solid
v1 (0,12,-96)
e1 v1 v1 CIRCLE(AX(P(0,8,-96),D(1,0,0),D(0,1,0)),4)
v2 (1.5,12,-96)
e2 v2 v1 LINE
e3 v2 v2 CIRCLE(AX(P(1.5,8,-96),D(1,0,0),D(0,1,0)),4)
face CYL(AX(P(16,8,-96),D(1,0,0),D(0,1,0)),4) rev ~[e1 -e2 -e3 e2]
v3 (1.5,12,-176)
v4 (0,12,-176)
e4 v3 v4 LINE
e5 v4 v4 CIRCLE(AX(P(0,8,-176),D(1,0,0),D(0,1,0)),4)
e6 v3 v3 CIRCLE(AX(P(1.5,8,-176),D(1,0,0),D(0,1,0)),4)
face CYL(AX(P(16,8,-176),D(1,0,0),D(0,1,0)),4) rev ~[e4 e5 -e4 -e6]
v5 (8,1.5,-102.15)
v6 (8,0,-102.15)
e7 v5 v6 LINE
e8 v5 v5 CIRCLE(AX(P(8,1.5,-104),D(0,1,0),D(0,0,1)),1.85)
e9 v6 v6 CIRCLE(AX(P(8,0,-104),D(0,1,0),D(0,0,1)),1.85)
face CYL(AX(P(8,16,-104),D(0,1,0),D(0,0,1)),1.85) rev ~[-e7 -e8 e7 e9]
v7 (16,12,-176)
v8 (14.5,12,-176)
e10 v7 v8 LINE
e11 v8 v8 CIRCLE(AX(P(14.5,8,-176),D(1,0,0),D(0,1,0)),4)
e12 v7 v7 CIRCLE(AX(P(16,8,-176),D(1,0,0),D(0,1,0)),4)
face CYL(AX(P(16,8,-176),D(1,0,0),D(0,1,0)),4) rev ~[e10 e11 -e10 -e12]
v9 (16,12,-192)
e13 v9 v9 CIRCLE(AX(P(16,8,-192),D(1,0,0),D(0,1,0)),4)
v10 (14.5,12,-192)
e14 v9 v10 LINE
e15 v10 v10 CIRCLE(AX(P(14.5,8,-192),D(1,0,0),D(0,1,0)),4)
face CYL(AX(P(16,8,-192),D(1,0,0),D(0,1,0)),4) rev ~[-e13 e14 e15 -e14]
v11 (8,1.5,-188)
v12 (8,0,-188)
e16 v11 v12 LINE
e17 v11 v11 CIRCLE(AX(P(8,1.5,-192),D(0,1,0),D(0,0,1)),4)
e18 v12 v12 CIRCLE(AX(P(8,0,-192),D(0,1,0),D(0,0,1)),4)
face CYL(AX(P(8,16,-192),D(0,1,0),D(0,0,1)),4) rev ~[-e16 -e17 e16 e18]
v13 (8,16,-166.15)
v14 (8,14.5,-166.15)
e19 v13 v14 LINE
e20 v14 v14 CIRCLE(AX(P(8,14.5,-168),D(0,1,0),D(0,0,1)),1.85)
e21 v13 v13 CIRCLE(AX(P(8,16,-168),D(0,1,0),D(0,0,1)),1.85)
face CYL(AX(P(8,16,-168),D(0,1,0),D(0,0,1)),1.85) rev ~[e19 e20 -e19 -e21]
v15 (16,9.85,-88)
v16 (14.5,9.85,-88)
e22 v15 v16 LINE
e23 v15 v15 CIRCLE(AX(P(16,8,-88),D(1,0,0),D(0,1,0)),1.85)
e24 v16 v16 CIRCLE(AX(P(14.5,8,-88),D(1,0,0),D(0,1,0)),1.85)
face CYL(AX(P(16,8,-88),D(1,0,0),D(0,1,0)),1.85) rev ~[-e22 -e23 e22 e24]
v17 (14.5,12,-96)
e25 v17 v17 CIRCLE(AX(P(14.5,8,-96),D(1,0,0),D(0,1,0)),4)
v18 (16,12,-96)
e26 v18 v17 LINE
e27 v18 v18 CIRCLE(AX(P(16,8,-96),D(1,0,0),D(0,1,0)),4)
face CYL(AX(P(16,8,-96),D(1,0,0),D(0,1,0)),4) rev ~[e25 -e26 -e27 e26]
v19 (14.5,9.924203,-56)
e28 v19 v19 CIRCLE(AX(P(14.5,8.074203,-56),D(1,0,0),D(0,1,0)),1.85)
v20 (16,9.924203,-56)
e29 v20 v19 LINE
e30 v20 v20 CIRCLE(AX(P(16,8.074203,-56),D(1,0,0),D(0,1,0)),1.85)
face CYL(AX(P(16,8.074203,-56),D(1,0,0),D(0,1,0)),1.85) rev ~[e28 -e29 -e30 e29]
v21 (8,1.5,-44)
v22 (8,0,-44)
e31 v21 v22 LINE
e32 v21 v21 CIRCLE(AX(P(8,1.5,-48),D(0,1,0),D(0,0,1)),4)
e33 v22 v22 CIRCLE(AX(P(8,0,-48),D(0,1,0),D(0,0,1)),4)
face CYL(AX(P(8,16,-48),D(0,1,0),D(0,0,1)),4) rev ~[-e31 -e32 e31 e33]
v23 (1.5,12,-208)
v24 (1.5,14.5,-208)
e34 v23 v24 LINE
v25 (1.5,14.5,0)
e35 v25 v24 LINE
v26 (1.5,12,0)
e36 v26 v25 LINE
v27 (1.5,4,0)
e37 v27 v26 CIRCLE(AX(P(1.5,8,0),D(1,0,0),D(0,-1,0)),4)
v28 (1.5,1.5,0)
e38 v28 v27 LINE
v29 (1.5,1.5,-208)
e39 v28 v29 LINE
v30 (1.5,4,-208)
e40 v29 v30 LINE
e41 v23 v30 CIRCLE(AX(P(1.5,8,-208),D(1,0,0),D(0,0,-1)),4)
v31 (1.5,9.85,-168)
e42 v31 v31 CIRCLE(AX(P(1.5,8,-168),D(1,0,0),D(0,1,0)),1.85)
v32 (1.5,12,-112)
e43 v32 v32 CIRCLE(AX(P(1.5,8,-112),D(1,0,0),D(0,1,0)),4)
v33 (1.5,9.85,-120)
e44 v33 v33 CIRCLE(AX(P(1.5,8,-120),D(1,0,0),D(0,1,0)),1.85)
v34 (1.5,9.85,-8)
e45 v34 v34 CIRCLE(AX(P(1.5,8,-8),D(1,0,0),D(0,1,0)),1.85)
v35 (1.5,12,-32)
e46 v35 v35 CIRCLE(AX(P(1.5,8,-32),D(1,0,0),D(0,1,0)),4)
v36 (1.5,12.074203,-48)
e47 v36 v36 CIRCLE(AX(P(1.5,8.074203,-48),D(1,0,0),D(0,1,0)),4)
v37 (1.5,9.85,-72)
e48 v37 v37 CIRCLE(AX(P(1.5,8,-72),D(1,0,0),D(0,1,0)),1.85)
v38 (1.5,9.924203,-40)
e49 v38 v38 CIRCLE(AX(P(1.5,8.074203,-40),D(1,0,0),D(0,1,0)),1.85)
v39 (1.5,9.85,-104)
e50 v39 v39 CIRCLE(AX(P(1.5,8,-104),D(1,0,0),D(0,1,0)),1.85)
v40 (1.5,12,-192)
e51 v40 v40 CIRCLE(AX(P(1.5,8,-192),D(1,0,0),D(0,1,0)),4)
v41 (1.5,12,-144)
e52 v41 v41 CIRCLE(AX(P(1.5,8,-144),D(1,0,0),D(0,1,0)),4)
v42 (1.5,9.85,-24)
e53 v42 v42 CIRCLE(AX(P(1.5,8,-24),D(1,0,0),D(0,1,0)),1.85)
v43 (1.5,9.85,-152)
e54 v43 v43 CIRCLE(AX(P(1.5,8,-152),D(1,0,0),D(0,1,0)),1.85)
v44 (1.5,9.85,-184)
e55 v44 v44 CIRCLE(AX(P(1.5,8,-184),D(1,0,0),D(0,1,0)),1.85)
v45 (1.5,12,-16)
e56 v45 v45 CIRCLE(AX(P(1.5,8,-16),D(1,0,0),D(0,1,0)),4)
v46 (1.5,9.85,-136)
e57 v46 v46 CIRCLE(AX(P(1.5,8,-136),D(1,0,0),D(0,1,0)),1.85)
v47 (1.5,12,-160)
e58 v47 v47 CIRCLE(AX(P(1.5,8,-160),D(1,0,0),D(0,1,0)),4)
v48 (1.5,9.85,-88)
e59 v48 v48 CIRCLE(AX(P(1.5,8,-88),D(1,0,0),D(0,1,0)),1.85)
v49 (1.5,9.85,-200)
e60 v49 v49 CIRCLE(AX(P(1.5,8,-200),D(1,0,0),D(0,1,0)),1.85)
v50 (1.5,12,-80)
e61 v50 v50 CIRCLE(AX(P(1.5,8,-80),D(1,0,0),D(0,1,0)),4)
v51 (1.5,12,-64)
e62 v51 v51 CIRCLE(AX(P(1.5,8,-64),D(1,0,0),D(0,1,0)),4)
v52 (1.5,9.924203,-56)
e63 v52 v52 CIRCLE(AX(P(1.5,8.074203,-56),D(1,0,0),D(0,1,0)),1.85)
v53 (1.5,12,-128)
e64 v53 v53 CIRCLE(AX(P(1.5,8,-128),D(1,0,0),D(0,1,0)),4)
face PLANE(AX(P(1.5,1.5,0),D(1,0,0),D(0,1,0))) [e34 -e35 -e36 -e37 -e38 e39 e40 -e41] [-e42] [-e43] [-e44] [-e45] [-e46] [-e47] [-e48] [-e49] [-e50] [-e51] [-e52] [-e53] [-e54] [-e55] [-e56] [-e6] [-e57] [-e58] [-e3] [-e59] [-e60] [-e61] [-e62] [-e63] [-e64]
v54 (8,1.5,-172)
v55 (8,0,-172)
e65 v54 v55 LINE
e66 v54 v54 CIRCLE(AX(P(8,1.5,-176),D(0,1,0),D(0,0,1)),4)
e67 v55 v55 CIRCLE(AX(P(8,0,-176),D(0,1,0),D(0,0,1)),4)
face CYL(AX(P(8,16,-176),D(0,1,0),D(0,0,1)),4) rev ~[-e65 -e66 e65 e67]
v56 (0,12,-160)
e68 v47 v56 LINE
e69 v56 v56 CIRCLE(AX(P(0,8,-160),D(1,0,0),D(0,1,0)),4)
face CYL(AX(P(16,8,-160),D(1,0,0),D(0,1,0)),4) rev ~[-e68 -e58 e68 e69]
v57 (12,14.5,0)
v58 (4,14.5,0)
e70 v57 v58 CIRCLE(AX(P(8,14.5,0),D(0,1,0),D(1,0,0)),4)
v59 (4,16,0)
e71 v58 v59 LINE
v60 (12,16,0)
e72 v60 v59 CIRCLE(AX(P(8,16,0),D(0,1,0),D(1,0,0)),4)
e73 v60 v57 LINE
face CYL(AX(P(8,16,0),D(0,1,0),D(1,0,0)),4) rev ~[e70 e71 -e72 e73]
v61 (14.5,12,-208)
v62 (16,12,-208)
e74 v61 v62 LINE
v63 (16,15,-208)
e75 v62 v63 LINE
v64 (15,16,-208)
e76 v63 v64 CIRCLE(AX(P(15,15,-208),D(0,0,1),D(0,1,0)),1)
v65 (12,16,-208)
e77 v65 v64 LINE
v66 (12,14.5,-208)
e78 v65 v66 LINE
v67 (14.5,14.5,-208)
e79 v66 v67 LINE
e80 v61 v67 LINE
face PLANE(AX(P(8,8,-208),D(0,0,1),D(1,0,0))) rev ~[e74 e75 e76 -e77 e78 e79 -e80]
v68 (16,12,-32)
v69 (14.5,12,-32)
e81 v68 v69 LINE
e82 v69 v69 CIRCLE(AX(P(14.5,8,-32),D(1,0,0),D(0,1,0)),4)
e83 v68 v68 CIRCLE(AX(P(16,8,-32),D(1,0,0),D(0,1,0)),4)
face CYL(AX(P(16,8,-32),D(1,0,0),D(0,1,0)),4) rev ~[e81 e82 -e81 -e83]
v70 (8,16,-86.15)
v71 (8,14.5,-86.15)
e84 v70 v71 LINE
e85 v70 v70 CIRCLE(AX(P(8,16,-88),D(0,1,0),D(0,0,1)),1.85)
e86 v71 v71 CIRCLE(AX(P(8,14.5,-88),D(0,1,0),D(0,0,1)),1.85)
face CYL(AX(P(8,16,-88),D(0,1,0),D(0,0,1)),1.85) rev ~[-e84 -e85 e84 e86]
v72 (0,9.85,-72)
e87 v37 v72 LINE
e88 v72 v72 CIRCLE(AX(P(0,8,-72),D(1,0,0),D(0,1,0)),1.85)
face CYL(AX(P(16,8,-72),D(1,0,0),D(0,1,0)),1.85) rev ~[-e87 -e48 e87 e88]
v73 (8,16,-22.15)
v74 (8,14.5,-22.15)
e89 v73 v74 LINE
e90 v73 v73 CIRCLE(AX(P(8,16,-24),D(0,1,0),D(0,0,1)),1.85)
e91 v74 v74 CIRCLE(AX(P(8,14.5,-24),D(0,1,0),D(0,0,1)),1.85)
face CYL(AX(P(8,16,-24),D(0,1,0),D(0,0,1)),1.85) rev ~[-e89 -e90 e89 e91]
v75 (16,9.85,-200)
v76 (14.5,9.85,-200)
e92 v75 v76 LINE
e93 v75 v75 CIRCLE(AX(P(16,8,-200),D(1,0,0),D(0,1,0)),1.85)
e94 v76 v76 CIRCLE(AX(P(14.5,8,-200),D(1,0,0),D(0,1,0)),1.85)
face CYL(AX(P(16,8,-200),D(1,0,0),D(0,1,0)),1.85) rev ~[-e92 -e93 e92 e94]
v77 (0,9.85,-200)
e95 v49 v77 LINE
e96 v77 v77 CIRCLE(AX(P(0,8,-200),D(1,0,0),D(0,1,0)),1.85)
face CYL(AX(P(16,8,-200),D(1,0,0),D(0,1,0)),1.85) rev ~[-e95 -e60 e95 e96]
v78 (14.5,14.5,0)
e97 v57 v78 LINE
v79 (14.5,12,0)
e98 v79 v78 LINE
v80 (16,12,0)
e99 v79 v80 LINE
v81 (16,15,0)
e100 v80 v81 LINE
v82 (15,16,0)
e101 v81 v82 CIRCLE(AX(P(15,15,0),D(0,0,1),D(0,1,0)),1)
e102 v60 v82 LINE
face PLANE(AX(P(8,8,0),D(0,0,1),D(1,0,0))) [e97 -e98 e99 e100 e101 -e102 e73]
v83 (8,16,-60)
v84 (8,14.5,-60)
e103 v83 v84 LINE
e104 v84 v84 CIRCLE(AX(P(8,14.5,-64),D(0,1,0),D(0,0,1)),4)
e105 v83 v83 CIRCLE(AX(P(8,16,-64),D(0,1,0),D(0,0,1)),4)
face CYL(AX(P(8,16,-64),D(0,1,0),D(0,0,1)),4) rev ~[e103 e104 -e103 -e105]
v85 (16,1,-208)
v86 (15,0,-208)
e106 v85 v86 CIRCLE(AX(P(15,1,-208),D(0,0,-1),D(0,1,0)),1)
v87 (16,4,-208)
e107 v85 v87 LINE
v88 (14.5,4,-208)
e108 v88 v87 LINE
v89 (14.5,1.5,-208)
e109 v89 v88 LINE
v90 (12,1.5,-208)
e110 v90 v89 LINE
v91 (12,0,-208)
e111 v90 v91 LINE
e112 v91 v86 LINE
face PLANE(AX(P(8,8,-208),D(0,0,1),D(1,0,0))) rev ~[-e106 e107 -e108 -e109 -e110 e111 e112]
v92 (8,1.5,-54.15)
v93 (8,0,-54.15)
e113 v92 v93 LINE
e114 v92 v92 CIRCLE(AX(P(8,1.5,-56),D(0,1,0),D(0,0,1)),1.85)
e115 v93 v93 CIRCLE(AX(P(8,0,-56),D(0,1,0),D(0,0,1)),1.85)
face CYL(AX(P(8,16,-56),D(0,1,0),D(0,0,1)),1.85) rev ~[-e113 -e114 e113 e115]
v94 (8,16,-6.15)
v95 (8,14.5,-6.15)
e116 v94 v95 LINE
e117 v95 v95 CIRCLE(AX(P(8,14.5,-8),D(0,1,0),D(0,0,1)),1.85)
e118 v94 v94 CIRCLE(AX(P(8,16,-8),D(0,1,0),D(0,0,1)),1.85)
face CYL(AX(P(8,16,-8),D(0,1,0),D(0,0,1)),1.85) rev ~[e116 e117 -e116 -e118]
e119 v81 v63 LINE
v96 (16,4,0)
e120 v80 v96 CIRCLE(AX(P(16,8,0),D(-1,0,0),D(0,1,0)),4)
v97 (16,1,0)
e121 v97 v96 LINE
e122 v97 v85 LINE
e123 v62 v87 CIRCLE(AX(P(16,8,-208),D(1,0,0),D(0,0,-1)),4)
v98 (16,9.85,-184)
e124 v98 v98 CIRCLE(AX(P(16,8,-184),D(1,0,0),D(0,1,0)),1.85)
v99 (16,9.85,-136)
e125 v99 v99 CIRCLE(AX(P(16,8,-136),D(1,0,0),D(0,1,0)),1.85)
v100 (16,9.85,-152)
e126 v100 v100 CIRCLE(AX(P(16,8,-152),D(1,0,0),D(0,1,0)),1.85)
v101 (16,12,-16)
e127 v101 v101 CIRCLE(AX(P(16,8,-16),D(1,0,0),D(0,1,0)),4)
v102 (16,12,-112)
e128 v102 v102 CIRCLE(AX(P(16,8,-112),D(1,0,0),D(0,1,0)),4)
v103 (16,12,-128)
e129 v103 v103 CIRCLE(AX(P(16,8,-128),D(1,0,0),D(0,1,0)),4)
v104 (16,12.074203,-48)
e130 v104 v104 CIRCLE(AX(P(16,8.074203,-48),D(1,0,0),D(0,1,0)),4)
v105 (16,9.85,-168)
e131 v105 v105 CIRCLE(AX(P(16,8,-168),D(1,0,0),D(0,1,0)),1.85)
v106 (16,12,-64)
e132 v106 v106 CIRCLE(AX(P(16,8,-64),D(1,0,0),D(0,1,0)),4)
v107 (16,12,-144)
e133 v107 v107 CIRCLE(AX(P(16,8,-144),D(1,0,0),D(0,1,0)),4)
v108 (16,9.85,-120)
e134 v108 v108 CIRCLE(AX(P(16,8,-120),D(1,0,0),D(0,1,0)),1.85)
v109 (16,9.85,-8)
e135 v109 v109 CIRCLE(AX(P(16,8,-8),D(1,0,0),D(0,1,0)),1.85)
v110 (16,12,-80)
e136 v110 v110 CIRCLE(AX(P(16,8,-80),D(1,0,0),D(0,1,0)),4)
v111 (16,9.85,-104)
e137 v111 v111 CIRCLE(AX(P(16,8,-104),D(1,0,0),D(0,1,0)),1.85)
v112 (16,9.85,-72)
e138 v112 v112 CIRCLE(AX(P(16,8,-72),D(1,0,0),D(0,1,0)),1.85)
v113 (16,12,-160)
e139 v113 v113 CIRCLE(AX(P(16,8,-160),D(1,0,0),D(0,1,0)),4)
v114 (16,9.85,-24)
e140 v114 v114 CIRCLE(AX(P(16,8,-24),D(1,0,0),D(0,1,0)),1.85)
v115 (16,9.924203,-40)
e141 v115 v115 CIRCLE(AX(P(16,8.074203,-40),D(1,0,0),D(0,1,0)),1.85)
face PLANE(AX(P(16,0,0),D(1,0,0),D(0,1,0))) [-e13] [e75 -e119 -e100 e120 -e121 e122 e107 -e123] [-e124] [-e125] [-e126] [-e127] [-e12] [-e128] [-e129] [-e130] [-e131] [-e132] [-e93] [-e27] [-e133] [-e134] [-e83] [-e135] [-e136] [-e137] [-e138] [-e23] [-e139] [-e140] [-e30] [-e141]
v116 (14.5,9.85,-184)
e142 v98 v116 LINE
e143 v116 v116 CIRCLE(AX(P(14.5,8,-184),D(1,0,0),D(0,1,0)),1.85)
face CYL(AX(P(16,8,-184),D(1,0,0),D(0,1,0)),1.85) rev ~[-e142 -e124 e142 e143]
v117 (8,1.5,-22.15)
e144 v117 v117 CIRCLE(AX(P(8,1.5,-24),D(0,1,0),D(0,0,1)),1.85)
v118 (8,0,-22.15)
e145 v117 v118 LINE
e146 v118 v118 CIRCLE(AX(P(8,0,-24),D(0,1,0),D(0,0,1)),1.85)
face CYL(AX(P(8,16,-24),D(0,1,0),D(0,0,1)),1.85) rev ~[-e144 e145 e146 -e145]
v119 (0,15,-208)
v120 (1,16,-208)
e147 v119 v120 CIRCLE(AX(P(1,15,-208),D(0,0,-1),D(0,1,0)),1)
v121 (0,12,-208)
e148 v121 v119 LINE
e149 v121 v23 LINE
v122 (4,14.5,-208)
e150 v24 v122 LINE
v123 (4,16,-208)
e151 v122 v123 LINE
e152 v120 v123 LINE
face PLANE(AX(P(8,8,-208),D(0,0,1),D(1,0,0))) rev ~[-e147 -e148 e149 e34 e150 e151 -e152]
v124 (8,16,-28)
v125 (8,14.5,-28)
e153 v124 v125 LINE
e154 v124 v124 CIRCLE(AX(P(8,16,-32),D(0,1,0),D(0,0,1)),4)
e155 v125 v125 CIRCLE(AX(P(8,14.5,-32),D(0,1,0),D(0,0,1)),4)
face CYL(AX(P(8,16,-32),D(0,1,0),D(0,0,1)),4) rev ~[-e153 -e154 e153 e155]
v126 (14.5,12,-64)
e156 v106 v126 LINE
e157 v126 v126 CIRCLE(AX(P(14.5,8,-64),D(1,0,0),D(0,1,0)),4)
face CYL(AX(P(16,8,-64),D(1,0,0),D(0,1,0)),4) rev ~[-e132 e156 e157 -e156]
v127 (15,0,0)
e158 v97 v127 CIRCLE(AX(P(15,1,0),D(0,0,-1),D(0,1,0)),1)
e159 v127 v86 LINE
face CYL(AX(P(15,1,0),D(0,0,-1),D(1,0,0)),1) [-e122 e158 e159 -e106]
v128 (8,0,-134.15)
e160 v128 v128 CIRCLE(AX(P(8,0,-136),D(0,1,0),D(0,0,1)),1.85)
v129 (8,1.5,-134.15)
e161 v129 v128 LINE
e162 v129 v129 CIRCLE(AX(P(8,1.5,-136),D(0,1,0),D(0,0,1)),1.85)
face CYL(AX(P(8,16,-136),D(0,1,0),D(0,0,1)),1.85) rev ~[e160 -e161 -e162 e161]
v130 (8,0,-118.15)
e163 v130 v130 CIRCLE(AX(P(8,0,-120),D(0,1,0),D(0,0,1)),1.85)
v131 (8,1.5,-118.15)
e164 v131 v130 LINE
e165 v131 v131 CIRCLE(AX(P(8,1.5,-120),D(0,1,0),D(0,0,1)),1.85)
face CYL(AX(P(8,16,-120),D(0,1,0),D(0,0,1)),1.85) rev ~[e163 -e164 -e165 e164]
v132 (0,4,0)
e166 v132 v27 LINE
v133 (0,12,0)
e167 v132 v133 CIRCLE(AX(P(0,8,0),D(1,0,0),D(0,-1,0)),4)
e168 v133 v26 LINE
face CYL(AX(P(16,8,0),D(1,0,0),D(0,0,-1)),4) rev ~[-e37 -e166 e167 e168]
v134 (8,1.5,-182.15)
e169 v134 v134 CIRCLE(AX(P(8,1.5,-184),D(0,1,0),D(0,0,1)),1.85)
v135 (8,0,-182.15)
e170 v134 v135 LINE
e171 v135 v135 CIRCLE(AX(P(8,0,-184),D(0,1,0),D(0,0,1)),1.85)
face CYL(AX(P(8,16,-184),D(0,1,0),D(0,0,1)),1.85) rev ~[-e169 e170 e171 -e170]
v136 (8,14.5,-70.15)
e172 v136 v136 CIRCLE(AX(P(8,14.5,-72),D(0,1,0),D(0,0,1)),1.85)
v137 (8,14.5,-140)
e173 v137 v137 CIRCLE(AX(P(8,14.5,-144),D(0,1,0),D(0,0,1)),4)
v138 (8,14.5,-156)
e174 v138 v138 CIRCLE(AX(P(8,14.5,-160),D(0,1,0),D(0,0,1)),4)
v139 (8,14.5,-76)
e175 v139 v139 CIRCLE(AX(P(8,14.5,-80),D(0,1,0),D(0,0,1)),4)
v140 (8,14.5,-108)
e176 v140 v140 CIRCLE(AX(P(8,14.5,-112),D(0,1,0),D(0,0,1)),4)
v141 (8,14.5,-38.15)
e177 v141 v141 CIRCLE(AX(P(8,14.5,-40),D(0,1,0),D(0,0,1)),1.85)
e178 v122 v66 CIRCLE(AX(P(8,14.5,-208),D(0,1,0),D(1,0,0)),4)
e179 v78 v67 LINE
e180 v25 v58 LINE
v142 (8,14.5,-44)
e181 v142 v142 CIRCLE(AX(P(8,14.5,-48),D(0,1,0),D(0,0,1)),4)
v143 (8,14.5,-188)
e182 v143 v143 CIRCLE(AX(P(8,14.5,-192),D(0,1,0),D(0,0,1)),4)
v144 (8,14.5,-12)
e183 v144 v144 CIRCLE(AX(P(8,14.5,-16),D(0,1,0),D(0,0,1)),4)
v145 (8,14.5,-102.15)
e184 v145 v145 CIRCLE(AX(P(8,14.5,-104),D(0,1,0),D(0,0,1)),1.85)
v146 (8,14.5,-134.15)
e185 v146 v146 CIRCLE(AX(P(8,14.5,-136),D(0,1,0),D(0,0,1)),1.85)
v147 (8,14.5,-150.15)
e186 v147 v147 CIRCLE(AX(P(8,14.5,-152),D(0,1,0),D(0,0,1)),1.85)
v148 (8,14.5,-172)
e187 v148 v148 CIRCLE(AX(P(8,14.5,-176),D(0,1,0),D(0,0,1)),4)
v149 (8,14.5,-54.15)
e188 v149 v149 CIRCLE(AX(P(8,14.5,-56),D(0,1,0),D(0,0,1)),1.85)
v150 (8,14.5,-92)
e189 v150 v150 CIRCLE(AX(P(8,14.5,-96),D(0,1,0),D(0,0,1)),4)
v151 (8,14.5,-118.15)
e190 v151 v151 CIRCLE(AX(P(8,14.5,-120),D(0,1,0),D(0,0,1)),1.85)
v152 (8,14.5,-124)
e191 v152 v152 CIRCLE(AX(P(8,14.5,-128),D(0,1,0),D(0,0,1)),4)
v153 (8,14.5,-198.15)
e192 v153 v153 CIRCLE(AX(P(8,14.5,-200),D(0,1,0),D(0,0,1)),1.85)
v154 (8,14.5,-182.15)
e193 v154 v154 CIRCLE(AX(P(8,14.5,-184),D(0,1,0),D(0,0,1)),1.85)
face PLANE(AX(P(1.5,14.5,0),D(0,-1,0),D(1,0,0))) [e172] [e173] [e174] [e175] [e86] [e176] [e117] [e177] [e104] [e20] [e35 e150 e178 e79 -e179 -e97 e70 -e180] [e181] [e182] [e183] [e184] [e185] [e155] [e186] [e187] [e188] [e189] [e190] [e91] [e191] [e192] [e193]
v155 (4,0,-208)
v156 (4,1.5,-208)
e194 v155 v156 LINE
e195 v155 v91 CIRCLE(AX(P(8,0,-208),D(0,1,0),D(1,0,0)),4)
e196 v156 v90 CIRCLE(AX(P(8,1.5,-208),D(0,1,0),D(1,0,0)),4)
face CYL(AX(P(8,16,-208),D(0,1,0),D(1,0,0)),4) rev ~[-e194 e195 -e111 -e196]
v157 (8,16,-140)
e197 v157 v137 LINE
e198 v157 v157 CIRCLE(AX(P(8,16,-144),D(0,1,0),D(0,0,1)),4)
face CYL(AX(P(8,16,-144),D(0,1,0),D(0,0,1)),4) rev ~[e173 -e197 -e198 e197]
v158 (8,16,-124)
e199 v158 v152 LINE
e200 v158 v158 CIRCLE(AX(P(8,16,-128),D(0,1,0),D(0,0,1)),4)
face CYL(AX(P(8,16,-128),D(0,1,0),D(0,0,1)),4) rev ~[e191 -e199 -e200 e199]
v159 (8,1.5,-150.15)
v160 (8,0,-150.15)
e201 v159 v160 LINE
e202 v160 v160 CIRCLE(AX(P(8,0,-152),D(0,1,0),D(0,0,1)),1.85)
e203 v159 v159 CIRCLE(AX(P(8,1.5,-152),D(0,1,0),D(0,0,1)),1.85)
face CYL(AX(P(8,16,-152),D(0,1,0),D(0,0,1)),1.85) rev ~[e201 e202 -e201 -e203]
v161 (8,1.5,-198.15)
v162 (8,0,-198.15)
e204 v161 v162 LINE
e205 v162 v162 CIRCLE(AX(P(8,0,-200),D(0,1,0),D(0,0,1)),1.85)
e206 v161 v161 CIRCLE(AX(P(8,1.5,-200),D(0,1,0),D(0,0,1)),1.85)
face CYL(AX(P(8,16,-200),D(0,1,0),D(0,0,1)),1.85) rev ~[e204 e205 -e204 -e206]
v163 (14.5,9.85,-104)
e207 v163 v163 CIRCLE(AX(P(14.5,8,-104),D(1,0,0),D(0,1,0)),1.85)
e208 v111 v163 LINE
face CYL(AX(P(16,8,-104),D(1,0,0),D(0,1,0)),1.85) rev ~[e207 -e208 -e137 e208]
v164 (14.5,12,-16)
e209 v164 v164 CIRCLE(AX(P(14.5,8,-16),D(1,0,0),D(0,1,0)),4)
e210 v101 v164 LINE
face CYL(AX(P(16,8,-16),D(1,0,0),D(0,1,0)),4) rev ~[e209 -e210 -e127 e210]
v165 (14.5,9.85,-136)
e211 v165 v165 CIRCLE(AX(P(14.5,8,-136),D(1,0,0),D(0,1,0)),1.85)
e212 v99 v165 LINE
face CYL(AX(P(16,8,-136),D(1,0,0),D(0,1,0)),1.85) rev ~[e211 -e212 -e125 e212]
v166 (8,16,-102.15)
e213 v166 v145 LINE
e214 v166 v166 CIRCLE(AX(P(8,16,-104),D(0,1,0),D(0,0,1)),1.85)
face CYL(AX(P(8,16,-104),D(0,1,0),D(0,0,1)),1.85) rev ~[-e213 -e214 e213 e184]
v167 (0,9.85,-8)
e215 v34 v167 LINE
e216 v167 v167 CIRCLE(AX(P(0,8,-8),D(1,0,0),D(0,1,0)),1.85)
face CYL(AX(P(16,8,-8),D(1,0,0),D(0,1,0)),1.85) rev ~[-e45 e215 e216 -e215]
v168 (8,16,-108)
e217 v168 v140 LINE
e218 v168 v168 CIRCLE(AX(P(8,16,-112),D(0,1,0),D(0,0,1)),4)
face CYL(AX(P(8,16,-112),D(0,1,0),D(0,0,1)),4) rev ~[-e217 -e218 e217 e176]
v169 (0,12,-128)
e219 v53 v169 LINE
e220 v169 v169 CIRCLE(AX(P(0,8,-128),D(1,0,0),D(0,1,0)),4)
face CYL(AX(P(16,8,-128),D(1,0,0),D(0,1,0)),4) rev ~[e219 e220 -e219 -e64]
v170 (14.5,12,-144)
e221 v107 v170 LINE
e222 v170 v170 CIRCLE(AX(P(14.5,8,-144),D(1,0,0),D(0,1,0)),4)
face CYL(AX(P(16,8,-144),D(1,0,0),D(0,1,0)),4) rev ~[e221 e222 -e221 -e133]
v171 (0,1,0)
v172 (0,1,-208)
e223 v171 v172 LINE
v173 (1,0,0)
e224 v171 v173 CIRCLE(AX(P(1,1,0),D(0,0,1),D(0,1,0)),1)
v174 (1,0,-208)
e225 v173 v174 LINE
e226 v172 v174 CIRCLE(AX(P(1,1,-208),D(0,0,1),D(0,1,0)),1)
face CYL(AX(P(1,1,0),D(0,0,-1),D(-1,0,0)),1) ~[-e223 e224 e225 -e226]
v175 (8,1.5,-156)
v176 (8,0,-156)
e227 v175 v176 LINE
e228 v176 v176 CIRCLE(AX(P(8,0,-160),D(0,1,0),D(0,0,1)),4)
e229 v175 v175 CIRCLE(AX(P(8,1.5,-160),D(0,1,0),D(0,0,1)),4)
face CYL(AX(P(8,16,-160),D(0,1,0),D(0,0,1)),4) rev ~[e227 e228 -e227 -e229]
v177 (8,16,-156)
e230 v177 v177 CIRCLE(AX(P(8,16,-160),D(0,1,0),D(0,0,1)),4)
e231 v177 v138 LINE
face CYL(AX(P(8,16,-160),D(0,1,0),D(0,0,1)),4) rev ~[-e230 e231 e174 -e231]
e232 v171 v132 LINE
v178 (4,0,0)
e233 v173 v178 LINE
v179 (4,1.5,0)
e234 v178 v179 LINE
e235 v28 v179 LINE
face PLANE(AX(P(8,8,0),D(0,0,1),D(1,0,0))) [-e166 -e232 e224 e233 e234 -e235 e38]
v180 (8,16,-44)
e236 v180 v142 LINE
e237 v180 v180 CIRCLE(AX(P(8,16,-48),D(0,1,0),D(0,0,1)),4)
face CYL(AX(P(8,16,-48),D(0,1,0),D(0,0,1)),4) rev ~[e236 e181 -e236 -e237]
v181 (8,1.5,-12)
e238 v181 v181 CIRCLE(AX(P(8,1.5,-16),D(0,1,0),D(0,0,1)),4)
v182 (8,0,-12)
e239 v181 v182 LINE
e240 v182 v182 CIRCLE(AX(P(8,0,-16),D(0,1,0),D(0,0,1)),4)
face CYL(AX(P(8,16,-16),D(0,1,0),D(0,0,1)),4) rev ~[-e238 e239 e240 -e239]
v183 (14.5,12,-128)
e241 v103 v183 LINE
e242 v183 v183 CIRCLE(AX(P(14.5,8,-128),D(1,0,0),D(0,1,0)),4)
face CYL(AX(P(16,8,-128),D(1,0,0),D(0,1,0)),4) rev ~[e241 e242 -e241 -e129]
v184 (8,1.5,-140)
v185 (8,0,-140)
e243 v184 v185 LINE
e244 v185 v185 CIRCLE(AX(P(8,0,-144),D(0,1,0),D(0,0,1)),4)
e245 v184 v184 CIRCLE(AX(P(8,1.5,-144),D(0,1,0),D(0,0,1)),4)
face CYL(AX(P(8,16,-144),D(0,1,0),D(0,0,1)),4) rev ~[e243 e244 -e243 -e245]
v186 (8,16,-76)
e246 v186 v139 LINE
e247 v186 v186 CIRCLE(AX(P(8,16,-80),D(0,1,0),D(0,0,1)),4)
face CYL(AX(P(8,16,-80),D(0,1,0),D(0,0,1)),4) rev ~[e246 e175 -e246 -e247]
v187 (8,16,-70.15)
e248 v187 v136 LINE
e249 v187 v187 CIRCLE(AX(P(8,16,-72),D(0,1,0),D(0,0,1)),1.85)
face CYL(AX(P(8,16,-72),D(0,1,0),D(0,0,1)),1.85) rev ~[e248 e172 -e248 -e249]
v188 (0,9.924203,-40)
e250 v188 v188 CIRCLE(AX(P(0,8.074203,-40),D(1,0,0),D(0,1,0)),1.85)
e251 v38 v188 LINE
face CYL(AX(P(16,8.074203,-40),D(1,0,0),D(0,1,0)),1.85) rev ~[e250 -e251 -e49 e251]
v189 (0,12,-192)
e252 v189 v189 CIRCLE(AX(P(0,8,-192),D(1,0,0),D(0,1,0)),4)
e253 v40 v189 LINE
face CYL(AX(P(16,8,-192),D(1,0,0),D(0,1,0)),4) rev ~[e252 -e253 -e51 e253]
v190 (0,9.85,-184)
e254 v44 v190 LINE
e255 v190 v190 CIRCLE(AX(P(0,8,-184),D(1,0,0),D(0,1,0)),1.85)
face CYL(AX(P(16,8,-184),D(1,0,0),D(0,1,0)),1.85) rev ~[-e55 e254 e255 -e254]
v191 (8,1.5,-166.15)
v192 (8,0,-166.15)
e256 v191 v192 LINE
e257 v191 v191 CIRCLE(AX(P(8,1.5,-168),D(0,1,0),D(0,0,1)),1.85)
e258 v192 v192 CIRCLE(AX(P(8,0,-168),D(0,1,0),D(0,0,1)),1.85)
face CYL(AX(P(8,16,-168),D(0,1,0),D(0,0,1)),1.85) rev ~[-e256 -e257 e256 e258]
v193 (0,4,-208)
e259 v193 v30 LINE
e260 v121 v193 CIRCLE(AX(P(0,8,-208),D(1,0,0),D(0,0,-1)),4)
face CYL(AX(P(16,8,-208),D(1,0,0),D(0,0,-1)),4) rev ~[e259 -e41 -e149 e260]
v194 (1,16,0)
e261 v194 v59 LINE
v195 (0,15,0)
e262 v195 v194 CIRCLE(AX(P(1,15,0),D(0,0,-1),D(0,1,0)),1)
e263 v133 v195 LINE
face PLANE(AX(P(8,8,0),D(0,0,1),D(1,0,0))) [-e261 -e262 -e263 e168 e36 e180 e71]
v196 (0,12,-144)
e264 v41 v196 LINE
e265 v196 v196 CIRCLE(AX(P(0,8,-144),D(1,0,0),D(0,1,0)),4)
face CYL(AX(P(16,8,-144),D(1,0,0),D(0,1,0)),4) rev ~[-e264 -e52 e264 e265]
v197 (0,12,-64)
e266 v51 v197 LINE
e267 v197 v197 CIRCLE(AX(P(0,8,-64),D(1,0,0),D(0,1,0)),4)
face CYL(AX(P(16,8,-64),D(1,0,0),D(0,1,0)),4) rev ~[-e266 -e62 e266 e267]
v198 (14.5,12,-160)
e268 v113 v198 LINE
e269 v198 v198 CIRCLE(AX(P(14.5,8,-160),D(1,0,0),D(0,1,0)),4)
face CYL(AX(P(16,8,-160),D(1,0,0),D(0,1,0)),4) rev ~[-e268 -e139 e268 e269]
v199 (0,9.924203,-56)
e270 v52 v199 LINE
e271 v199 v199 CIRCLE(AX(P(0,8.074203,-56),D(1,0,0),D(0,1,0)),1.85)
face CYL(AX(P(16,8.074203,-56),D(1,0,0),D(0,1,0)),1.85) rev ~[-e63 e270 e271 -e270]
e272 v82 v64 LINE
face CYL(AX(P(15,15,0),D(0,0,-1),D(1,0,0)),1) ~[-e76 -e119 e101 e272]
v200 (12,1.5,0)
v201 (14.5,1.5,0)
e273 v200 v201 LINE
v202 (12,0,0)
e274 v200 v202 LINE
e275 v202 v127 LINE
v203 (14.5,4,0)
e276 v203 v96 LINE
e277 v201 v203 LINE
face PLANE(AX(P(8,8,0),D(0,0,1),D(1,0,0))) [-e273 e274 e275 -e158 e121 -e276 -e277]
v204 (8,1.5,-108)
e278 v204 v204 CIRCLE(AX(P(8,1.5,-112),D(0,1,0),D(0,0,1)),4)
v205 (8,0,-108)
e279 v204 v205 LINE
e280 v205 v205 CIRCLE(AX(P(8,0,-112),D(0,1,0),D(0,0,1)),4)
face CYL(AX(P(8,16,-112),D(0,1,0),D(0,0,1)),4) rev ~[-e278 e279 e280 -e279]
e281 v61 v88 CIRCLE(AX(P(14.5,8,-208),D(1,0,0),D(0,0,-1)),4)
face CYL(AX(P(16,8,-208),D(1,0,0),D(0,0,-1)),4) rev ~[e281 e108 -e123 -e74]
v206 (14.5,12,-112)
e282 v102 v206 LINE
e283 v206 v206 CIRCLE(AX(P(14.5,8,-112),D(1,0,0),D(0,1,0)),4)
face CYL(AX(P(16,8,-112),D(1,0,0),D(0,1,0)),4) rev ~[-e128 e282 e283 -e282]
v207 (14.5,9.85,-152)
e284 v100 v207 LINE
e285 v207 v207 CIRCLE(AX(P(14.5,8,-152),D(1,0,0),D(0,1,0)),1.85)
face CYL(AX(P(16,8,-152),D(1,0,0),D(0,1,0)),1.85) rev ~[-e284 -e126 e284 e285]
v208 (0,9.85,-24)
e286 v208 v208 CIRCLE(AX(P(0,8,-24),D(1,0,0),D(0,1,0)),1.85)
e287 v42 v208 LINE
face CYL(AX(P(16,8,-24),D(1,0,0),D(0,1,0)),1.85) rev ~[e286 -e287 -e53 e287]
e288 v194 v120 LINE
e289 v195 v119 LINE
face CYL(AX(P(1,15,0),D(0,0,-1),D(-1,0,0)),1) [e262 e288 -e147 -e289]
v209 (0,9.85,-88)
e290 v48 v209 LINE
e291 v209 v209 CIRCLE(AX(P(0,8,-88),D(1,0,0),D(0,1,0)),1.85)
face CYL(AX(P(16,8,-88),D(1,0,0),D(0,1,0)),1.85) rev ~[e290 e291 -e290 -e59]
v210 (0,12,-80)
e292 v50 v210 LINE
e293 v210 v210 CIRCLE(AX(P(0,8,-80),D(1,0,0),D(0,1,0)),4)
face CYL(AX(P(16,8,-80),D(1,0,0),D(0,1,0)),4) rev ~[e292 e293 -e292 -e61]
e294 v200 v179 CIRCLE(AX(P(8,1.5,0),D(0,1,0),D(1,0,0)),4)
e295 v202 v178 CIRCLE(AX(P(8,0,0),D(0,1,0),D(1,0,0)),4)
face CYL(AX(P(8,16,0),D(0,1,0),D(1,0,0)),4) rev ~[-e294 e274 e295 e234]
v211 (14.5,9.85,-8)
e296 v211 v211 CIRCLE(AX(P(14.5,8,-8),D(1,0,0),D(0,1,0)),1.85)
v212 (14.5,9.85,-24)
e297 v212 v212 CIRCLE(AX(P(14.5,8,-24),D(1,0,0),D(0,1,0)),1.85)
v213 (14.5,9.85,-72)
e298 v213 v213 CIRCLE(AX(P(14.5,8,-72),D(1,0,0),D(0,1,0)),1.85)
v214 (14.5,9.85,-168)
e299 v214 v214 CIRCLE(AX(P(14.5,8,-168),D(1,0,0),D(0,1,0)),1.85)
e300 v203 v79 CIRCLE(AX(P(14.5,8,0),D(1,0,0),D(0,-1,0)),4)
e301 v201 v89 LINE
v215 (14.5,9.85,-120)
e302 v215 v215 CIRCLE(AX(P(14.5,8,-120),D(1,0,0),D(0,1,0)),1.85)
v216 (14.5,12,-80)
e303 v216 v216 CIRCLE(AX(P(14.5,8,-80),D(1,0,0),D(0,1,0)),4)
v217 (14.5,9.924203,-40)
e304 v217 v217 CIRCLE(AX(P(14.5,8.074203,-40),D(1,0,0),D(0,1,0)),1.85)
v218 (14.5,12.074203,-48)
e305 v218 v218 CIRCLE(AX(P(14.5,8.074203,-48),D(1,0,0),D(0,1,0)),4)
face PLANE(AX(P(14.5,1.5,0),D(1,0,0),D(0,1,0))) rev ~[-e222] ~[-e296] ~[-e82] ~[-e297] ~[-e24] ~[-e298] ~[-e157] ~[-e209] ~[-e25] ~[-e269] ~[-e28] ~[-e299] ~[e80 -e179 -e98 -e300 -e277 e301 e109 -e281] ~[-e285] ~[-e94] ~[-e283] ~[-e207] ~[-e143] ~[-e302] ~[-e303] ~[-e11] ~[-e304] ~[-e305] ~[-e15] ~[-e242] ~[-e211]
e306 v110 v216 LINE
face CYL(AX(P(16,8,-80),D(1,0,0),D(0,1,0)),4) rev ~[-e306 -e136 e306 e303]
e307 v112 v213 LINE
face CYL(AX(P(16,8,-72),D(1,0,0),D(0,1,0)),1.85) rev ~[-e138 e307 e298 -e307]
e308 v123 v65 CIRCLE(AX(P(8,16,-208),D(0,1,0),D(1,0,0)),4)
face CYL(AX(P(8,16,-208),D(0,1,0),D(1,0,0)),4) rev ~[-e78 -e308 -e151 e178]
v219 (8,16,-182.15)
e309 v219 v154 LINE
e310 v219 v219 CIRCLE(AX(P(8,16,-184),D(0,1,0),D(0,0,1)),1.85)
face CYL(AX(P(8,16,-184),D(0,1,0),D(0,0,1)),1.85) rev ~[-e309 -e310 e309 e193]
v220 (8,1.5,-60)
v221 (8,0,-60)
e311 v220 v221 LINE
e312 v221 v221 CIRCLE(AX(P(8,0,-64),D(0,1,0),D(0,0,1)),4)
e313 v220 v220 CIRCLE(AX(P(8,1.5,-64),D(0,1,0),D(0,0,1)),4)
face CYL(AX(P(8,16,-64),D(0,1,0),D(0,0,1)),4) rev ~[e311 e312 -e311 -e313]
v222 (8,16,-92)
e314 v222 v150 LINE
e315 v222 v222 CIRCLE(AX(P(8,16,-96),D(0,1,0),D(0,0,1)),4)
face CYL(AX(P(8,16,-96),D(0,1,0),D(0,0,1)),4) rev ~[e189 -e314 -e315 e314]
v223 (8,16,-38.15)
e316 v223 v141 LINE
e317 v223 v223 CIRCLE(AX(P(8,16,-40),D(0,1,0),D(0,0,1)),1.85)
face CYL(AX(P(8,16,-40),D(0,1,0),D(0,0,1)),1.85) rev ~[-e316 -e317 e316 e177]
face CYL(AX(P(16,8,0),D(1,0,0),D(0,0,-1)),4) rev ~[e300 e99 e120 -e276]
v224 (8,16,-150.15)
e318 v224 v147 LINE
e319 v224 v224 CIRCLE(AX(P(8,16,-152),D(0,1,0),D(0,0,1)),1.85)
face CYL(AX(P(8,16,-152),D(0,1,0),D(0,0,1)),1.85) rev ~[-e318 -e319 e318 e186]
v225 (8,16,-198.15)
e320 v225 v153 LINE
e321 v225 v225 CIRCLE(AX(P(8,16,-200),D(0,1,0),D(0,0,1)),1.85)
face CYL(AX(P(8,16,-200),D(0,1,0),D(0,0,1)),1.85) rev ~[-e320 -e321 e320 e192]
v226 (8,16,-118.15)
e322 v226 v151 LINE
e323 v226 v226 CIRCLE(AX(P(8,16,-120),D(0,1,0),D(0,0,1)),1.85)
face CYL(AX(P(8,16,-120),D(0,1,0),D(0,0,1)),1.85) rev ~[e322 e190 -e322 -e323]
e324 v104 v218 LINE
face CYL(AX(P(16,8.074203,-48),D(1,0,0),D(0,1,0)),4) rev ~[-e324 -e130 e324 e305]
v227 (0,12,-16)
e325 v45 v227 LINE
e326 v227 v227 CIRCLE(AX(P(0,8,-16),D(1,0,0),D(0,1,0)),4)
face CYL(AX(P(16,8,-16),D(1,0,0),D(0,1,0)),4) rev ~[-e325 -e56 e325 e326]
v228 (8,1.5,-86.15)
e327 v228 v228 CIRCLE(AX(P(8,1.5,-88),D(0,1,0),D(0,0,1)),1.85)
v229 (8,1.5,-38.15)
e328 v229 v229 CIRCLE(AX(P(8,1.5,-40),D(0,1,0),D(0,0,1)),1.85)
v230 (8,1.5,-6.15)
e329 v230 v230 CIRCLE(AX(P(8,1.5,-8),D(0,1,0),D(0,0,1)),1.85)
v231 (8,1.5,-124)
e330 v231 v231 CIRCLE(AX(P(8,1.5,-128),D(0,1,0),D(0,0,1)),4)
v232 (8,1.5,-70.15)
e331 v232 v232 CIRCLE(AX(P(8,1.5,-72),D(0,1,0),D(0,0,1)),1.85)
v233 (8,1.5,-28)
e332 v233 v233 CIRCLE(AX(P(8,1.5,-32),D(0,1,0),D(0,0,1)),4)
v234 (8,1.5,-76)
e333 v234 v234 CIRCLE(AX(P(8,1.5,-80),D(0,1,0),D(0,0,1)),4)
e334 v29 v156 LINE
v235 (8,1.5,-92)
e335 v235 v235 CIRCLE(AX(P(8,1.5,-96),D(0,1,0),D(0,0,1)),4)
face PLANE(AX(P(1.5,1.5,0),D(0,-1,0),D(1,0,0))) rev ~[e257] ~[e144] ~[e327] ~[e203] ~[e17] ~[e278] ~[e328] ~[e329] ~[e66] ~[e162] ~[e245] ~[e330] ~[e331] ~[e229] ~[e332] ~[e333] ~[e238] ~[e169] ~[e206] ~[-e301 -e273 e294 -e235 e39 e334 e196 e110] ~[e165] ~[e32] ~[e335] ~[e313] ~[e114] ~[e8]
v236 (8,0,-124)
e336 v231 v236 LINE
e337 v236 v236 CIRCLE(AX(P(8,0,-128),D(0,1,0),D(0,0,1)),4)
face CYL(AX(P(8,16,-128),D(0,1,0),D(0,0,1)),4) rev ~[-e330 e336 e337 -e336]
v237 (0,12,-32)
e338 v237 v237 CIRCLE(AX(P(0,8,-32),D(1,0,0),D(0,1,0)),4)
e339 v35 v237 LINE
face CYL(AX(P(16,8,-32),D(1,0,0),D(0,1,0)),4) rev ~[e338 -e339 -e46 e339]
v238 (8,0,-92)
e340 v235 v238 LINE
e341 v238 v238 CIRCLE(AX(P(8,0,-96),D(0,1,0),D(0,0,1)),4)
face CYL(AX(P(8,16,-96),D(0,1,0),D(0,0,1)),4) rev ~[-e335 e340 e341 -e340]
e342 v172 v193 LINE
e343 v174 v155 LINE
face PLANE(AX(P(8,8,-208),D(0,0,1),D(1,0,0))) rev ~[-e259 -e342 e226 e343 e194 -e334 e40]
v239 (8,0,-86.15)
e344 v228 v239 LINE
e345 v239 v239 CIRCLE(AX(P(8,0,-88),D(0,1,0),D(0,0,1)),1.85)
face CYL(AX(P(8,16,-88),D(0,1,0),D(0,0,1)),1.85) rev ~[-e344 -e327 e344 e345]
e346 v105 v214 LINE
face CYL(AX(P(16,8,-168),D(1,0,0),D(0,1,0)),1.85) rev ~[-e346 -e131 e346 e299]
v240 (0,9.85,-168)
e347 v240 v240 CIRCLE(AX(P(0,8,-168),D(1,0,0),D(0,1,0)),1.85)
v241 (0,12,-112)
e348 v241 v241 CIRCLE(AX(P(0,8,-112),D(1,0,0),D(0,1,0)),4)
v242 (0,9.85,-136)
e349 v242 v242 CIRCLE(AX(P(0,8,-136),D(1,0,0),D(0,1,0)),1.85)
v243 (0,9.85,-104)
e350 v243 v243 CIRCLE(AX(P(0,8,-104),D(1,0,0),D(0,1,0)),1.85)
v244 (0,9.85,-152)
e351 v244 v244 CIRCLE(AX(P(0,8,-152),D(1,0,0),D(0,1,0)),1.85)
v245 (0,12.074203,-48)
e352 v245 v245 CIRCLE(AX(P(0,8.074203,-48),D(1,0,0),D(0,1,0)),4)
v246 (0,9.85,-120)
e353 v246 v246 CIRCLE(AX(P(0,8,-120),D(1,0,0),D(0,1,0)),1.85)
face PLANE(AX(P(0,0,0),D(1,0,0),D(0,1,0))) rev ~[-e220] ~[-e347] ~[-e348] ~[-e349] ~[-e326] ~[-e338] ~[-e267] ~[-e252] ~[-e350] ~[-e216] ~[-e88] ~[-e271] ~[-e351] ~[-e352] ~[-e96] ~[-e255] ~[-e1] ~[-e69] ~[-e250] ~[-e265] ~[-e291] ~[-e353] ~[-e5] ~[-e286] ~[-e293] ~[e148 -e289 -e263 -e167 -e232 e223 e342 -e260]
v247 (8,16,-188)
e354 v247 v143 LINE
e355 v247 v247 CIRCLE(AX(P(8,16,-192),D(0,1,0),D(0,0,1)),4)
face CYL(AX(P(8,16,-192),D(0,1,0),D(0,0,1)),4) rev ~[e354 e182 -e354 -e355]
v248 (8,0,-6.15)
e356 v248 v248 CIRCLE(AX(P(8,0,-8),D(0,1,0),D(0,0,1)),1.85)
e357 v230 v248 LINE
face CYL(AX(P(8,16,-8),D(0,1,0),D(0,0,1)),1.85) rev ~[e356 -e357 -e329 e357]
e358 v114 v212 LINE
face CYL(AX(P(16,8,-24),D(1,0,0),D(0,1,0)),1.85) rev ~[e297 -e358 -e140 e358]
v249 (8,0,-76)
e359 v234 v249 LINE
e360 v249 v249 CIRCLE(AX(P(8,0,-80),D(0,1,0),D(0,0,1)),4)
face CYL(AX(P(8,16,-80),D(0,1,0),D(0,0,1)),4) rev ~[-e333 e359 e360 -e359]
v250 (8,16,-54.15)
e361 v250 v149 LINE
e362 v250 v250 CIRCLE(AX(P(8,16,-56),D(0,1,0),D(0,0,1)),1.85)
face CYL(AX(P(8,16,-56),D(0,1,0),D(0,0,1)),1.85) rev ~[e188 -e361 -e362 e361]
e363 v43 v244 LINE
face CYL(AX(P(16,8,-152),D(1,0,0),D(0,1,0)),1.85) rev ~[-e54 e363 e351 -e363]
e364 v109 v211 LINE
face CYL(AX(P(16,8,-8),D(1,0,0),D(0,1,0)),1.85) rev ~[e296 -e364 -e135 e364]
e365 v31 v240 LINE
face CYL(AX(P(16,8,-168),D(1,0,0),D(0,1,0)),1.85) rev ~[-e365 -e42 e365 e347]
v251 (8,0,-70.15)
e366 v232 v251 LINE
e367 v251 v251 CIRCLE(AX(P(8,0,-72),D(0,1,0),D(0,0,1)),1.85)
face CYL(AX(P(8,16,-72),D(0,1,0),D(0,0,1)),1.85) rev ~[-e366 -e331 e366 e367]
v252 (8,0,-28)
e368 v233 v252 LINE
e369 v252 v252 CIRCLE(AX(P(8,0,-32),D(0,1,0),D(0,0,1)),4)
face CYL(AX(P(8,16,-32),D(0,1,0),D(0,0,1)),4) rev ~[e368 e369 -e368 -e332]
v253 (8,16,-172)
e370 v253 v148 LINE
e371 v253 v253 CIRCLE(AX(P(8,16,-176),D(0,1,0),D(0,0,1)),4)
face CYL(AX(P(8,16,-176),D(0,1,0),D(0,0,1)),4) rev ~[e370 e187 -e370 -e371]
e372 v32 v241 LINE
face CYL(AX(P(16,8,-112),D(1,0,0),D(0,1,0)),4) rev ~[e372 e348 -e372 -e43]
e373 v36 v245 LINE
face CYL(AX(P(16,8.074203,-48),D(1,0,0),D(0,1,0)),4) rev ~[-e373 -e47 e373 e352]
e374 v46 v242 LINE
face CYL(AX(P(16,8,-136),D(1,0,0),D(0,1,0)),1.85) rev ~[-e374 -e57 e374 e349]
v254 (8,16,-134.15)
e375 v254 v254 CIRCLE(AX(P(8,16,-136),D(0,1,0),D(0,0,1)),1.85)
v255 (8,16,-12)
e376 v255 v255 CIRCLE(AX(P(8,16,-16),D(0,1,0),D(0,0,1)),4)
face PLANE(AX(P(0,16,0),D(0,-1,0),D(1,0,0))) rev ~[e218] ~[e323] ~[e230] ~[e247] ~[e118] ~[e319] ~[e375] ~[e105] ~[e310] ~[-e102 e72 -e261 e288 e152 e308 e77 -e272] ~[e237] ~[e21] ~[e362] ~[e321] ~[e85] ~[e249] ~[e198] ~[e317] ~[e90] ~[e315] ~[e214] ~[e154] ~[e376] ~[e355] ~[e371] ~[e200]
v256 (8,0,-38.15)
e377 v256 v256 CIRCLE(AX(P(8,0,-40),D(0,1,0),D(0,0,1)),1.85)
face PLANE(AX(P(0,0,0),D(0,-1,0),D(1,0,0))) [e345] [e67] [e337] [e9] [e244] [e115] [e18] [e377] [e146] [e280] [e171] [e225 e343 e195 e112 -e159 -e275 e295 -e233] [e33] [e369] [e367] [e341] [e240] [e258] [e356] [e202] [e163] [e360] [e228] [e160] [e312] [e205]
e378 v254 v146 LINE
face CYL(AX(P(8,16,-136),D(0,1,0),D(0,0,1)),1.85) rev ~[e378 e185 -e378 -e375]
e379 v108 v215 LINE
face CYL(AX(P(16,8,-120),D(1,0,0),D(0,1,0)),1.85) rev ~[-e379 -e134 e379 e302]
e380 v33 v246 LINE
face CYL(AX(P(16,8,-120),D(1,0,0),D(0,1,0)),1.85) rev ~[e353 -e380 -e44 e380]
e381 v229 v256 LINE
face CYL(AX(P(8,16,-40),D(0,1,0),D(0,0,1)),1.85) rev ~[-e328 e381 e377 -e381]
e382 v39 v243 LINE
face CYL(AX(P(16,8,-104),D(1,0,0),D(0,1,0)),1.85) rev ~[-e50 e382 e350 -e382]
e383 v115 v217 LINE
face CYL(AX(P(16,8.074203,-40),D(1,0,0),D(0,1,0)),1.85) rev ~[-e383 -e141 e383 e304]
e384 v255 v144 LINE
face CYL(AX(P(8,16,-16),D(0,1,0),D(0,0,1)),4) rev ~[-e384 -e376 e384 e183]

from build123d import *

# Parameters (mm, degrees)
SKETCH1_W      = 16
SKETCH1_H      = 16
EXTRUDE1_DEPTH = 208
SKETCH2_W      = 13
SKETCH2_H      = 13
EXTRUDE2_DEPTH = 210.22714929
SKETCH3_R      = 4
SKETCH3_R_2    = 1.85
EXTRUDE3_DEPTH = 210.22714929
SKETCH4_R      = 4
SKETCH4_R_2    = 1.85
EXTRUDE4_DEPTH = 210.22714929
FILLET1_R      = 1


with BuildPart() as part:
    # Sketch1 → Extrude1 (new body)
    with BuildSketch(Plane.XY):
        with Locations((8, 8)):
            Rectangle(SKETCH1_W, SKETCH1_H)
    extrude(amount=-EXTRUDE1_DEPTH)

    # Sketch2 → Extrude2 (cut, through all)
    with BuildSketch(Plane.XY):
        with Locations((8, 8)):
            Rectangle(SKETCH2_W, SKETCH2_H)
    extrude(amount=-EXTRUDE2_DEPTH, mode=Mode.SUBTRACT)

    # Sketch3 → Extrude3 (cut, through all)
    with BuildSketch(Plane(origin=(0, 16, 0), x_dir=(1, 0, 0), z_dir=(0, 1, 0))):
        with Locations(Location((8, 64, 0), (0, 0, 270))):
            Circle(SKETCH3_R)
        with Locations(Location((8, 32, 0), (0, 0, 270))):
            Circle(SKETCH3_R)
        with Locations((8, 0)):
            Circle(SKETCH3_R)
        with Locations(Location((8, 96, 0), (0, 0, 270))):
            Circle(SKETCH3_R)
        with Locations(Location((8, 128, 0), (0, 0, 270))):
            Circle(SKETCH3_R)
        with Locations(Location((8, 160, 0), (0, 0, 270))):
            Circle(SKETCH3_R)
        with Locations(Location((8, 192, 0), (0, 0, 270))):
            Circle(SKETCH3_R)
        with Locations((8, 224)):
            Circle(SKETCH3_R)
        with Locations((8, 256)):
            Circle(SKETCH3_R)
        with Locations(Location((8, 48, 0), (0, 0, 270))):
            Circle(SKETCH3_R)
        with Locations(Location((8, 56, 0), (0, 0, 270))):
            Circle(SKETCH3_R_2)
        with Locations(Location((8, 40, 0), (0, 0, 270))):
            Circle(SKETCH3_R_2)
        with Locations(Location((8, 80, 0), (0, 0, 270))):
            Circle(SKETCH3_R)
        with Locations(Location((8, 88, 0), (0, 0, 270))):
            Circle(SKETCH3_R_2)
        with Locations(Location((8, 72, 0), (0, 0, 270))):
            Circle(SKETCH3_R_2)
        with Locations(Location((8, 16, 0), (0, 0, 270))):
            Circle(SKETCH3_R)
        with Locations(Location((8, 24, 0), (0, 0, 270))):
            Circle(SKETCH3_R_2)
        with Locations(Location((8, 8, 0), (0, 0, 270))):
            Circle(SKETCH3_R_2)
        with Locations(Location((8, 112, 0), (0, 0, 270))):
            Circle(SKETCH3_R)
        with Locations(Location((8, 120, 0), (0, 0, 270))):
            Circle(SKETCH3_R_2)
        with Locations(Location((8, 104, 0), (0, 0, 270))):
            Circle(SKETCH3_R_2)
        with Locations(Location((8, 144, 0), (0, 0, 270))):
            Circle(SKETCH3_R)
        with Locations(Location((8, 152, 0), (0, 0, 270))):
            Circle(SKETCH3_R_2)
        with Locations(Location((8, 136, 0), (0, 0, 270))):
            Circle(SKETCH3_R_2)
        with Locations(Location((8, 176, 0), (0, 0, 270))):
            Circle(SKETCH3_R)
        with Locations(Location((8, 184, 0), (0, 0, 270))):
            Circle(SKETCH3_R_2)
        with Locations(Location((8, 168, 0), (0, 0, 270))):
            Circle(SKETCH3_R_2)
        with Locations((8, 208)):
            Circle(SKETCH3_R)
        with Locations((8, 216)):
            Circle(SKETCH3_R_2)
        with Locations(Location((8, 200, 0), (0, 0, 270))):
            Circle(SKETCH3_R_2)
        with Locations((8, 240)):
            Circle(SKETCH3_R)
        with Locations((8, 248)):
            Circle(SKETCH3_R_2)
        with Locations((8, 232)):
            Circle(SKETCH3_R_2)
    extrude(amount=-EXTRUDE3_DEPTH, mode=Mode.SUBTRACT)

    # Sketch4 → Extrude4 (cut, through all)
    with BuildSketch(Plane(origin=(16, 0, 0), x_dir=(0, 0, -1), z_dir=(1, 0, 0))):
        with Locations(Location((32, 8, 0), (0, 0, 90))):
            Circle(SKETCH4_R)
        with Locations(Location((64, 8, 0), (0, 0, 90))):
            Circle(SKETCH4_R)
        with Locations((0, 8)):
            Circle(SKETCH4_R)
        with Locations(Location((96, 8, 0), (0, 0, 90))):
            Circle(SKETCH4_R)
        with Locations(Location((128, 8, 0), (0, 0, 90))):
            Circle(SKETCH4_R)
        with Locations(Location((160, 8, 0), (0, 0, 90))):
            Circle(SKETCH4_R)
        with Locations(Location((192, 8, 0), (0, 0, 90))):
            Circle(SKETCH4_R)
        with Locations((224, 8)):
            Circle(SKETCH4_R)
        with Locations((256, 8)):
            Circle(SKETCH4_R)
        with Locations(Location((48, 8.074203, 0), (0, 0, 90))):
            Circle(SKETCH4_R)
        with Locations(Location((40, 8.074203, 0), (0, 0, 90))):
            Circle(SKETCH4_R_2)
        with Locations(Location((56, 8.074203, 0), (0, 0, 90))):
            Circle(SKETCH4_R_2)
        with Locations(Location((80, 8, 0), (0, 0, 90))):
            Circle(SKETCH4_R)
        with Locations(Location((72, 8, 0), (0, 0, 90))):
            Circle(SKETCH4_R_2)
        with Locations(Location((88, 8, 0), (0, 0, 90))):
            Circle(SKETCH4_R_2)
        with Locations(Location((16, 8, 0), (0, 0, 90))):
            Circle(SKETCH4_R)
        with Locations(Location((8, 8, 0), (0, 0, 90))):
            Circle(SKETCH4_R_2)
        with Locations(Location((24, 8, 0), (0, 0, 90))):
            Circle(SKETCH4_R_2)
        with Locations(Location((112, 8, 0), (0, 0, 90))):
            Circle(SKETCH4_R)
        with Locations(Location((104, 8, 0), (0, 0, 90))):
            Circle(SKETCH4_R_2)
        with Locations(Location((120, 8, 0), (0, 0, 90))):
            Circle(SKETCH4_R_2)
        with Locations(Location((144, 8, 0), (0, 0, 90))):
            Circle(SKETCH4_R)
        with Locations(Location((136, 8, 0), (0, 0, 90))):
            Circle(SKETCH4_R_2)
        with Locations(Location((152, 8, 0), (0, 0, 90))):
            Circle(SKETCH4_R_2)
        with Locations(Location((176, 8, 0), (0, 0, 90))):
            Circle(SKETCH4_R)
        with Locations(Location((168, 8, 0), (0, 0, 90))):
            Circle(SKETCH4_R_2)
        with Locations(Location((184, 8, 0), (0, 0, 90))):
            Circle(SKETCH4_R_2)
        with Locations((208, 8)):
            Circle(SKETCH4_R)
        with Locations(Location((200, 8, 0), (0, 0, 90))):
            Circle(SKETCH4_R_2)
        with Locations((216, 8)):
            Circle(SKETCH4_R_2)
        with Locations((240, 8)):
            Circle(SKETCH4_R)
        with Locations((232, 8)):
            Circle(SKETCH4_R_2)
        with Locations((248, 8)):
            Circle(SKETCH4_R_2)
    extrude(amount=-EXTRUDE4_DEPTH, mode=Mode.SUBTRACT)

    # Fillet1
    fillet1_edges = [part.edges().sort_by_distance(p)[0] for p in [
        (0, 16, -104),
        (16, 16, -104),
        (16, 0, -104),
        (0, 0, -104),
    ]]
    fillet(fillet1_edges, radius=FILLET1_R)


solid = part.part
